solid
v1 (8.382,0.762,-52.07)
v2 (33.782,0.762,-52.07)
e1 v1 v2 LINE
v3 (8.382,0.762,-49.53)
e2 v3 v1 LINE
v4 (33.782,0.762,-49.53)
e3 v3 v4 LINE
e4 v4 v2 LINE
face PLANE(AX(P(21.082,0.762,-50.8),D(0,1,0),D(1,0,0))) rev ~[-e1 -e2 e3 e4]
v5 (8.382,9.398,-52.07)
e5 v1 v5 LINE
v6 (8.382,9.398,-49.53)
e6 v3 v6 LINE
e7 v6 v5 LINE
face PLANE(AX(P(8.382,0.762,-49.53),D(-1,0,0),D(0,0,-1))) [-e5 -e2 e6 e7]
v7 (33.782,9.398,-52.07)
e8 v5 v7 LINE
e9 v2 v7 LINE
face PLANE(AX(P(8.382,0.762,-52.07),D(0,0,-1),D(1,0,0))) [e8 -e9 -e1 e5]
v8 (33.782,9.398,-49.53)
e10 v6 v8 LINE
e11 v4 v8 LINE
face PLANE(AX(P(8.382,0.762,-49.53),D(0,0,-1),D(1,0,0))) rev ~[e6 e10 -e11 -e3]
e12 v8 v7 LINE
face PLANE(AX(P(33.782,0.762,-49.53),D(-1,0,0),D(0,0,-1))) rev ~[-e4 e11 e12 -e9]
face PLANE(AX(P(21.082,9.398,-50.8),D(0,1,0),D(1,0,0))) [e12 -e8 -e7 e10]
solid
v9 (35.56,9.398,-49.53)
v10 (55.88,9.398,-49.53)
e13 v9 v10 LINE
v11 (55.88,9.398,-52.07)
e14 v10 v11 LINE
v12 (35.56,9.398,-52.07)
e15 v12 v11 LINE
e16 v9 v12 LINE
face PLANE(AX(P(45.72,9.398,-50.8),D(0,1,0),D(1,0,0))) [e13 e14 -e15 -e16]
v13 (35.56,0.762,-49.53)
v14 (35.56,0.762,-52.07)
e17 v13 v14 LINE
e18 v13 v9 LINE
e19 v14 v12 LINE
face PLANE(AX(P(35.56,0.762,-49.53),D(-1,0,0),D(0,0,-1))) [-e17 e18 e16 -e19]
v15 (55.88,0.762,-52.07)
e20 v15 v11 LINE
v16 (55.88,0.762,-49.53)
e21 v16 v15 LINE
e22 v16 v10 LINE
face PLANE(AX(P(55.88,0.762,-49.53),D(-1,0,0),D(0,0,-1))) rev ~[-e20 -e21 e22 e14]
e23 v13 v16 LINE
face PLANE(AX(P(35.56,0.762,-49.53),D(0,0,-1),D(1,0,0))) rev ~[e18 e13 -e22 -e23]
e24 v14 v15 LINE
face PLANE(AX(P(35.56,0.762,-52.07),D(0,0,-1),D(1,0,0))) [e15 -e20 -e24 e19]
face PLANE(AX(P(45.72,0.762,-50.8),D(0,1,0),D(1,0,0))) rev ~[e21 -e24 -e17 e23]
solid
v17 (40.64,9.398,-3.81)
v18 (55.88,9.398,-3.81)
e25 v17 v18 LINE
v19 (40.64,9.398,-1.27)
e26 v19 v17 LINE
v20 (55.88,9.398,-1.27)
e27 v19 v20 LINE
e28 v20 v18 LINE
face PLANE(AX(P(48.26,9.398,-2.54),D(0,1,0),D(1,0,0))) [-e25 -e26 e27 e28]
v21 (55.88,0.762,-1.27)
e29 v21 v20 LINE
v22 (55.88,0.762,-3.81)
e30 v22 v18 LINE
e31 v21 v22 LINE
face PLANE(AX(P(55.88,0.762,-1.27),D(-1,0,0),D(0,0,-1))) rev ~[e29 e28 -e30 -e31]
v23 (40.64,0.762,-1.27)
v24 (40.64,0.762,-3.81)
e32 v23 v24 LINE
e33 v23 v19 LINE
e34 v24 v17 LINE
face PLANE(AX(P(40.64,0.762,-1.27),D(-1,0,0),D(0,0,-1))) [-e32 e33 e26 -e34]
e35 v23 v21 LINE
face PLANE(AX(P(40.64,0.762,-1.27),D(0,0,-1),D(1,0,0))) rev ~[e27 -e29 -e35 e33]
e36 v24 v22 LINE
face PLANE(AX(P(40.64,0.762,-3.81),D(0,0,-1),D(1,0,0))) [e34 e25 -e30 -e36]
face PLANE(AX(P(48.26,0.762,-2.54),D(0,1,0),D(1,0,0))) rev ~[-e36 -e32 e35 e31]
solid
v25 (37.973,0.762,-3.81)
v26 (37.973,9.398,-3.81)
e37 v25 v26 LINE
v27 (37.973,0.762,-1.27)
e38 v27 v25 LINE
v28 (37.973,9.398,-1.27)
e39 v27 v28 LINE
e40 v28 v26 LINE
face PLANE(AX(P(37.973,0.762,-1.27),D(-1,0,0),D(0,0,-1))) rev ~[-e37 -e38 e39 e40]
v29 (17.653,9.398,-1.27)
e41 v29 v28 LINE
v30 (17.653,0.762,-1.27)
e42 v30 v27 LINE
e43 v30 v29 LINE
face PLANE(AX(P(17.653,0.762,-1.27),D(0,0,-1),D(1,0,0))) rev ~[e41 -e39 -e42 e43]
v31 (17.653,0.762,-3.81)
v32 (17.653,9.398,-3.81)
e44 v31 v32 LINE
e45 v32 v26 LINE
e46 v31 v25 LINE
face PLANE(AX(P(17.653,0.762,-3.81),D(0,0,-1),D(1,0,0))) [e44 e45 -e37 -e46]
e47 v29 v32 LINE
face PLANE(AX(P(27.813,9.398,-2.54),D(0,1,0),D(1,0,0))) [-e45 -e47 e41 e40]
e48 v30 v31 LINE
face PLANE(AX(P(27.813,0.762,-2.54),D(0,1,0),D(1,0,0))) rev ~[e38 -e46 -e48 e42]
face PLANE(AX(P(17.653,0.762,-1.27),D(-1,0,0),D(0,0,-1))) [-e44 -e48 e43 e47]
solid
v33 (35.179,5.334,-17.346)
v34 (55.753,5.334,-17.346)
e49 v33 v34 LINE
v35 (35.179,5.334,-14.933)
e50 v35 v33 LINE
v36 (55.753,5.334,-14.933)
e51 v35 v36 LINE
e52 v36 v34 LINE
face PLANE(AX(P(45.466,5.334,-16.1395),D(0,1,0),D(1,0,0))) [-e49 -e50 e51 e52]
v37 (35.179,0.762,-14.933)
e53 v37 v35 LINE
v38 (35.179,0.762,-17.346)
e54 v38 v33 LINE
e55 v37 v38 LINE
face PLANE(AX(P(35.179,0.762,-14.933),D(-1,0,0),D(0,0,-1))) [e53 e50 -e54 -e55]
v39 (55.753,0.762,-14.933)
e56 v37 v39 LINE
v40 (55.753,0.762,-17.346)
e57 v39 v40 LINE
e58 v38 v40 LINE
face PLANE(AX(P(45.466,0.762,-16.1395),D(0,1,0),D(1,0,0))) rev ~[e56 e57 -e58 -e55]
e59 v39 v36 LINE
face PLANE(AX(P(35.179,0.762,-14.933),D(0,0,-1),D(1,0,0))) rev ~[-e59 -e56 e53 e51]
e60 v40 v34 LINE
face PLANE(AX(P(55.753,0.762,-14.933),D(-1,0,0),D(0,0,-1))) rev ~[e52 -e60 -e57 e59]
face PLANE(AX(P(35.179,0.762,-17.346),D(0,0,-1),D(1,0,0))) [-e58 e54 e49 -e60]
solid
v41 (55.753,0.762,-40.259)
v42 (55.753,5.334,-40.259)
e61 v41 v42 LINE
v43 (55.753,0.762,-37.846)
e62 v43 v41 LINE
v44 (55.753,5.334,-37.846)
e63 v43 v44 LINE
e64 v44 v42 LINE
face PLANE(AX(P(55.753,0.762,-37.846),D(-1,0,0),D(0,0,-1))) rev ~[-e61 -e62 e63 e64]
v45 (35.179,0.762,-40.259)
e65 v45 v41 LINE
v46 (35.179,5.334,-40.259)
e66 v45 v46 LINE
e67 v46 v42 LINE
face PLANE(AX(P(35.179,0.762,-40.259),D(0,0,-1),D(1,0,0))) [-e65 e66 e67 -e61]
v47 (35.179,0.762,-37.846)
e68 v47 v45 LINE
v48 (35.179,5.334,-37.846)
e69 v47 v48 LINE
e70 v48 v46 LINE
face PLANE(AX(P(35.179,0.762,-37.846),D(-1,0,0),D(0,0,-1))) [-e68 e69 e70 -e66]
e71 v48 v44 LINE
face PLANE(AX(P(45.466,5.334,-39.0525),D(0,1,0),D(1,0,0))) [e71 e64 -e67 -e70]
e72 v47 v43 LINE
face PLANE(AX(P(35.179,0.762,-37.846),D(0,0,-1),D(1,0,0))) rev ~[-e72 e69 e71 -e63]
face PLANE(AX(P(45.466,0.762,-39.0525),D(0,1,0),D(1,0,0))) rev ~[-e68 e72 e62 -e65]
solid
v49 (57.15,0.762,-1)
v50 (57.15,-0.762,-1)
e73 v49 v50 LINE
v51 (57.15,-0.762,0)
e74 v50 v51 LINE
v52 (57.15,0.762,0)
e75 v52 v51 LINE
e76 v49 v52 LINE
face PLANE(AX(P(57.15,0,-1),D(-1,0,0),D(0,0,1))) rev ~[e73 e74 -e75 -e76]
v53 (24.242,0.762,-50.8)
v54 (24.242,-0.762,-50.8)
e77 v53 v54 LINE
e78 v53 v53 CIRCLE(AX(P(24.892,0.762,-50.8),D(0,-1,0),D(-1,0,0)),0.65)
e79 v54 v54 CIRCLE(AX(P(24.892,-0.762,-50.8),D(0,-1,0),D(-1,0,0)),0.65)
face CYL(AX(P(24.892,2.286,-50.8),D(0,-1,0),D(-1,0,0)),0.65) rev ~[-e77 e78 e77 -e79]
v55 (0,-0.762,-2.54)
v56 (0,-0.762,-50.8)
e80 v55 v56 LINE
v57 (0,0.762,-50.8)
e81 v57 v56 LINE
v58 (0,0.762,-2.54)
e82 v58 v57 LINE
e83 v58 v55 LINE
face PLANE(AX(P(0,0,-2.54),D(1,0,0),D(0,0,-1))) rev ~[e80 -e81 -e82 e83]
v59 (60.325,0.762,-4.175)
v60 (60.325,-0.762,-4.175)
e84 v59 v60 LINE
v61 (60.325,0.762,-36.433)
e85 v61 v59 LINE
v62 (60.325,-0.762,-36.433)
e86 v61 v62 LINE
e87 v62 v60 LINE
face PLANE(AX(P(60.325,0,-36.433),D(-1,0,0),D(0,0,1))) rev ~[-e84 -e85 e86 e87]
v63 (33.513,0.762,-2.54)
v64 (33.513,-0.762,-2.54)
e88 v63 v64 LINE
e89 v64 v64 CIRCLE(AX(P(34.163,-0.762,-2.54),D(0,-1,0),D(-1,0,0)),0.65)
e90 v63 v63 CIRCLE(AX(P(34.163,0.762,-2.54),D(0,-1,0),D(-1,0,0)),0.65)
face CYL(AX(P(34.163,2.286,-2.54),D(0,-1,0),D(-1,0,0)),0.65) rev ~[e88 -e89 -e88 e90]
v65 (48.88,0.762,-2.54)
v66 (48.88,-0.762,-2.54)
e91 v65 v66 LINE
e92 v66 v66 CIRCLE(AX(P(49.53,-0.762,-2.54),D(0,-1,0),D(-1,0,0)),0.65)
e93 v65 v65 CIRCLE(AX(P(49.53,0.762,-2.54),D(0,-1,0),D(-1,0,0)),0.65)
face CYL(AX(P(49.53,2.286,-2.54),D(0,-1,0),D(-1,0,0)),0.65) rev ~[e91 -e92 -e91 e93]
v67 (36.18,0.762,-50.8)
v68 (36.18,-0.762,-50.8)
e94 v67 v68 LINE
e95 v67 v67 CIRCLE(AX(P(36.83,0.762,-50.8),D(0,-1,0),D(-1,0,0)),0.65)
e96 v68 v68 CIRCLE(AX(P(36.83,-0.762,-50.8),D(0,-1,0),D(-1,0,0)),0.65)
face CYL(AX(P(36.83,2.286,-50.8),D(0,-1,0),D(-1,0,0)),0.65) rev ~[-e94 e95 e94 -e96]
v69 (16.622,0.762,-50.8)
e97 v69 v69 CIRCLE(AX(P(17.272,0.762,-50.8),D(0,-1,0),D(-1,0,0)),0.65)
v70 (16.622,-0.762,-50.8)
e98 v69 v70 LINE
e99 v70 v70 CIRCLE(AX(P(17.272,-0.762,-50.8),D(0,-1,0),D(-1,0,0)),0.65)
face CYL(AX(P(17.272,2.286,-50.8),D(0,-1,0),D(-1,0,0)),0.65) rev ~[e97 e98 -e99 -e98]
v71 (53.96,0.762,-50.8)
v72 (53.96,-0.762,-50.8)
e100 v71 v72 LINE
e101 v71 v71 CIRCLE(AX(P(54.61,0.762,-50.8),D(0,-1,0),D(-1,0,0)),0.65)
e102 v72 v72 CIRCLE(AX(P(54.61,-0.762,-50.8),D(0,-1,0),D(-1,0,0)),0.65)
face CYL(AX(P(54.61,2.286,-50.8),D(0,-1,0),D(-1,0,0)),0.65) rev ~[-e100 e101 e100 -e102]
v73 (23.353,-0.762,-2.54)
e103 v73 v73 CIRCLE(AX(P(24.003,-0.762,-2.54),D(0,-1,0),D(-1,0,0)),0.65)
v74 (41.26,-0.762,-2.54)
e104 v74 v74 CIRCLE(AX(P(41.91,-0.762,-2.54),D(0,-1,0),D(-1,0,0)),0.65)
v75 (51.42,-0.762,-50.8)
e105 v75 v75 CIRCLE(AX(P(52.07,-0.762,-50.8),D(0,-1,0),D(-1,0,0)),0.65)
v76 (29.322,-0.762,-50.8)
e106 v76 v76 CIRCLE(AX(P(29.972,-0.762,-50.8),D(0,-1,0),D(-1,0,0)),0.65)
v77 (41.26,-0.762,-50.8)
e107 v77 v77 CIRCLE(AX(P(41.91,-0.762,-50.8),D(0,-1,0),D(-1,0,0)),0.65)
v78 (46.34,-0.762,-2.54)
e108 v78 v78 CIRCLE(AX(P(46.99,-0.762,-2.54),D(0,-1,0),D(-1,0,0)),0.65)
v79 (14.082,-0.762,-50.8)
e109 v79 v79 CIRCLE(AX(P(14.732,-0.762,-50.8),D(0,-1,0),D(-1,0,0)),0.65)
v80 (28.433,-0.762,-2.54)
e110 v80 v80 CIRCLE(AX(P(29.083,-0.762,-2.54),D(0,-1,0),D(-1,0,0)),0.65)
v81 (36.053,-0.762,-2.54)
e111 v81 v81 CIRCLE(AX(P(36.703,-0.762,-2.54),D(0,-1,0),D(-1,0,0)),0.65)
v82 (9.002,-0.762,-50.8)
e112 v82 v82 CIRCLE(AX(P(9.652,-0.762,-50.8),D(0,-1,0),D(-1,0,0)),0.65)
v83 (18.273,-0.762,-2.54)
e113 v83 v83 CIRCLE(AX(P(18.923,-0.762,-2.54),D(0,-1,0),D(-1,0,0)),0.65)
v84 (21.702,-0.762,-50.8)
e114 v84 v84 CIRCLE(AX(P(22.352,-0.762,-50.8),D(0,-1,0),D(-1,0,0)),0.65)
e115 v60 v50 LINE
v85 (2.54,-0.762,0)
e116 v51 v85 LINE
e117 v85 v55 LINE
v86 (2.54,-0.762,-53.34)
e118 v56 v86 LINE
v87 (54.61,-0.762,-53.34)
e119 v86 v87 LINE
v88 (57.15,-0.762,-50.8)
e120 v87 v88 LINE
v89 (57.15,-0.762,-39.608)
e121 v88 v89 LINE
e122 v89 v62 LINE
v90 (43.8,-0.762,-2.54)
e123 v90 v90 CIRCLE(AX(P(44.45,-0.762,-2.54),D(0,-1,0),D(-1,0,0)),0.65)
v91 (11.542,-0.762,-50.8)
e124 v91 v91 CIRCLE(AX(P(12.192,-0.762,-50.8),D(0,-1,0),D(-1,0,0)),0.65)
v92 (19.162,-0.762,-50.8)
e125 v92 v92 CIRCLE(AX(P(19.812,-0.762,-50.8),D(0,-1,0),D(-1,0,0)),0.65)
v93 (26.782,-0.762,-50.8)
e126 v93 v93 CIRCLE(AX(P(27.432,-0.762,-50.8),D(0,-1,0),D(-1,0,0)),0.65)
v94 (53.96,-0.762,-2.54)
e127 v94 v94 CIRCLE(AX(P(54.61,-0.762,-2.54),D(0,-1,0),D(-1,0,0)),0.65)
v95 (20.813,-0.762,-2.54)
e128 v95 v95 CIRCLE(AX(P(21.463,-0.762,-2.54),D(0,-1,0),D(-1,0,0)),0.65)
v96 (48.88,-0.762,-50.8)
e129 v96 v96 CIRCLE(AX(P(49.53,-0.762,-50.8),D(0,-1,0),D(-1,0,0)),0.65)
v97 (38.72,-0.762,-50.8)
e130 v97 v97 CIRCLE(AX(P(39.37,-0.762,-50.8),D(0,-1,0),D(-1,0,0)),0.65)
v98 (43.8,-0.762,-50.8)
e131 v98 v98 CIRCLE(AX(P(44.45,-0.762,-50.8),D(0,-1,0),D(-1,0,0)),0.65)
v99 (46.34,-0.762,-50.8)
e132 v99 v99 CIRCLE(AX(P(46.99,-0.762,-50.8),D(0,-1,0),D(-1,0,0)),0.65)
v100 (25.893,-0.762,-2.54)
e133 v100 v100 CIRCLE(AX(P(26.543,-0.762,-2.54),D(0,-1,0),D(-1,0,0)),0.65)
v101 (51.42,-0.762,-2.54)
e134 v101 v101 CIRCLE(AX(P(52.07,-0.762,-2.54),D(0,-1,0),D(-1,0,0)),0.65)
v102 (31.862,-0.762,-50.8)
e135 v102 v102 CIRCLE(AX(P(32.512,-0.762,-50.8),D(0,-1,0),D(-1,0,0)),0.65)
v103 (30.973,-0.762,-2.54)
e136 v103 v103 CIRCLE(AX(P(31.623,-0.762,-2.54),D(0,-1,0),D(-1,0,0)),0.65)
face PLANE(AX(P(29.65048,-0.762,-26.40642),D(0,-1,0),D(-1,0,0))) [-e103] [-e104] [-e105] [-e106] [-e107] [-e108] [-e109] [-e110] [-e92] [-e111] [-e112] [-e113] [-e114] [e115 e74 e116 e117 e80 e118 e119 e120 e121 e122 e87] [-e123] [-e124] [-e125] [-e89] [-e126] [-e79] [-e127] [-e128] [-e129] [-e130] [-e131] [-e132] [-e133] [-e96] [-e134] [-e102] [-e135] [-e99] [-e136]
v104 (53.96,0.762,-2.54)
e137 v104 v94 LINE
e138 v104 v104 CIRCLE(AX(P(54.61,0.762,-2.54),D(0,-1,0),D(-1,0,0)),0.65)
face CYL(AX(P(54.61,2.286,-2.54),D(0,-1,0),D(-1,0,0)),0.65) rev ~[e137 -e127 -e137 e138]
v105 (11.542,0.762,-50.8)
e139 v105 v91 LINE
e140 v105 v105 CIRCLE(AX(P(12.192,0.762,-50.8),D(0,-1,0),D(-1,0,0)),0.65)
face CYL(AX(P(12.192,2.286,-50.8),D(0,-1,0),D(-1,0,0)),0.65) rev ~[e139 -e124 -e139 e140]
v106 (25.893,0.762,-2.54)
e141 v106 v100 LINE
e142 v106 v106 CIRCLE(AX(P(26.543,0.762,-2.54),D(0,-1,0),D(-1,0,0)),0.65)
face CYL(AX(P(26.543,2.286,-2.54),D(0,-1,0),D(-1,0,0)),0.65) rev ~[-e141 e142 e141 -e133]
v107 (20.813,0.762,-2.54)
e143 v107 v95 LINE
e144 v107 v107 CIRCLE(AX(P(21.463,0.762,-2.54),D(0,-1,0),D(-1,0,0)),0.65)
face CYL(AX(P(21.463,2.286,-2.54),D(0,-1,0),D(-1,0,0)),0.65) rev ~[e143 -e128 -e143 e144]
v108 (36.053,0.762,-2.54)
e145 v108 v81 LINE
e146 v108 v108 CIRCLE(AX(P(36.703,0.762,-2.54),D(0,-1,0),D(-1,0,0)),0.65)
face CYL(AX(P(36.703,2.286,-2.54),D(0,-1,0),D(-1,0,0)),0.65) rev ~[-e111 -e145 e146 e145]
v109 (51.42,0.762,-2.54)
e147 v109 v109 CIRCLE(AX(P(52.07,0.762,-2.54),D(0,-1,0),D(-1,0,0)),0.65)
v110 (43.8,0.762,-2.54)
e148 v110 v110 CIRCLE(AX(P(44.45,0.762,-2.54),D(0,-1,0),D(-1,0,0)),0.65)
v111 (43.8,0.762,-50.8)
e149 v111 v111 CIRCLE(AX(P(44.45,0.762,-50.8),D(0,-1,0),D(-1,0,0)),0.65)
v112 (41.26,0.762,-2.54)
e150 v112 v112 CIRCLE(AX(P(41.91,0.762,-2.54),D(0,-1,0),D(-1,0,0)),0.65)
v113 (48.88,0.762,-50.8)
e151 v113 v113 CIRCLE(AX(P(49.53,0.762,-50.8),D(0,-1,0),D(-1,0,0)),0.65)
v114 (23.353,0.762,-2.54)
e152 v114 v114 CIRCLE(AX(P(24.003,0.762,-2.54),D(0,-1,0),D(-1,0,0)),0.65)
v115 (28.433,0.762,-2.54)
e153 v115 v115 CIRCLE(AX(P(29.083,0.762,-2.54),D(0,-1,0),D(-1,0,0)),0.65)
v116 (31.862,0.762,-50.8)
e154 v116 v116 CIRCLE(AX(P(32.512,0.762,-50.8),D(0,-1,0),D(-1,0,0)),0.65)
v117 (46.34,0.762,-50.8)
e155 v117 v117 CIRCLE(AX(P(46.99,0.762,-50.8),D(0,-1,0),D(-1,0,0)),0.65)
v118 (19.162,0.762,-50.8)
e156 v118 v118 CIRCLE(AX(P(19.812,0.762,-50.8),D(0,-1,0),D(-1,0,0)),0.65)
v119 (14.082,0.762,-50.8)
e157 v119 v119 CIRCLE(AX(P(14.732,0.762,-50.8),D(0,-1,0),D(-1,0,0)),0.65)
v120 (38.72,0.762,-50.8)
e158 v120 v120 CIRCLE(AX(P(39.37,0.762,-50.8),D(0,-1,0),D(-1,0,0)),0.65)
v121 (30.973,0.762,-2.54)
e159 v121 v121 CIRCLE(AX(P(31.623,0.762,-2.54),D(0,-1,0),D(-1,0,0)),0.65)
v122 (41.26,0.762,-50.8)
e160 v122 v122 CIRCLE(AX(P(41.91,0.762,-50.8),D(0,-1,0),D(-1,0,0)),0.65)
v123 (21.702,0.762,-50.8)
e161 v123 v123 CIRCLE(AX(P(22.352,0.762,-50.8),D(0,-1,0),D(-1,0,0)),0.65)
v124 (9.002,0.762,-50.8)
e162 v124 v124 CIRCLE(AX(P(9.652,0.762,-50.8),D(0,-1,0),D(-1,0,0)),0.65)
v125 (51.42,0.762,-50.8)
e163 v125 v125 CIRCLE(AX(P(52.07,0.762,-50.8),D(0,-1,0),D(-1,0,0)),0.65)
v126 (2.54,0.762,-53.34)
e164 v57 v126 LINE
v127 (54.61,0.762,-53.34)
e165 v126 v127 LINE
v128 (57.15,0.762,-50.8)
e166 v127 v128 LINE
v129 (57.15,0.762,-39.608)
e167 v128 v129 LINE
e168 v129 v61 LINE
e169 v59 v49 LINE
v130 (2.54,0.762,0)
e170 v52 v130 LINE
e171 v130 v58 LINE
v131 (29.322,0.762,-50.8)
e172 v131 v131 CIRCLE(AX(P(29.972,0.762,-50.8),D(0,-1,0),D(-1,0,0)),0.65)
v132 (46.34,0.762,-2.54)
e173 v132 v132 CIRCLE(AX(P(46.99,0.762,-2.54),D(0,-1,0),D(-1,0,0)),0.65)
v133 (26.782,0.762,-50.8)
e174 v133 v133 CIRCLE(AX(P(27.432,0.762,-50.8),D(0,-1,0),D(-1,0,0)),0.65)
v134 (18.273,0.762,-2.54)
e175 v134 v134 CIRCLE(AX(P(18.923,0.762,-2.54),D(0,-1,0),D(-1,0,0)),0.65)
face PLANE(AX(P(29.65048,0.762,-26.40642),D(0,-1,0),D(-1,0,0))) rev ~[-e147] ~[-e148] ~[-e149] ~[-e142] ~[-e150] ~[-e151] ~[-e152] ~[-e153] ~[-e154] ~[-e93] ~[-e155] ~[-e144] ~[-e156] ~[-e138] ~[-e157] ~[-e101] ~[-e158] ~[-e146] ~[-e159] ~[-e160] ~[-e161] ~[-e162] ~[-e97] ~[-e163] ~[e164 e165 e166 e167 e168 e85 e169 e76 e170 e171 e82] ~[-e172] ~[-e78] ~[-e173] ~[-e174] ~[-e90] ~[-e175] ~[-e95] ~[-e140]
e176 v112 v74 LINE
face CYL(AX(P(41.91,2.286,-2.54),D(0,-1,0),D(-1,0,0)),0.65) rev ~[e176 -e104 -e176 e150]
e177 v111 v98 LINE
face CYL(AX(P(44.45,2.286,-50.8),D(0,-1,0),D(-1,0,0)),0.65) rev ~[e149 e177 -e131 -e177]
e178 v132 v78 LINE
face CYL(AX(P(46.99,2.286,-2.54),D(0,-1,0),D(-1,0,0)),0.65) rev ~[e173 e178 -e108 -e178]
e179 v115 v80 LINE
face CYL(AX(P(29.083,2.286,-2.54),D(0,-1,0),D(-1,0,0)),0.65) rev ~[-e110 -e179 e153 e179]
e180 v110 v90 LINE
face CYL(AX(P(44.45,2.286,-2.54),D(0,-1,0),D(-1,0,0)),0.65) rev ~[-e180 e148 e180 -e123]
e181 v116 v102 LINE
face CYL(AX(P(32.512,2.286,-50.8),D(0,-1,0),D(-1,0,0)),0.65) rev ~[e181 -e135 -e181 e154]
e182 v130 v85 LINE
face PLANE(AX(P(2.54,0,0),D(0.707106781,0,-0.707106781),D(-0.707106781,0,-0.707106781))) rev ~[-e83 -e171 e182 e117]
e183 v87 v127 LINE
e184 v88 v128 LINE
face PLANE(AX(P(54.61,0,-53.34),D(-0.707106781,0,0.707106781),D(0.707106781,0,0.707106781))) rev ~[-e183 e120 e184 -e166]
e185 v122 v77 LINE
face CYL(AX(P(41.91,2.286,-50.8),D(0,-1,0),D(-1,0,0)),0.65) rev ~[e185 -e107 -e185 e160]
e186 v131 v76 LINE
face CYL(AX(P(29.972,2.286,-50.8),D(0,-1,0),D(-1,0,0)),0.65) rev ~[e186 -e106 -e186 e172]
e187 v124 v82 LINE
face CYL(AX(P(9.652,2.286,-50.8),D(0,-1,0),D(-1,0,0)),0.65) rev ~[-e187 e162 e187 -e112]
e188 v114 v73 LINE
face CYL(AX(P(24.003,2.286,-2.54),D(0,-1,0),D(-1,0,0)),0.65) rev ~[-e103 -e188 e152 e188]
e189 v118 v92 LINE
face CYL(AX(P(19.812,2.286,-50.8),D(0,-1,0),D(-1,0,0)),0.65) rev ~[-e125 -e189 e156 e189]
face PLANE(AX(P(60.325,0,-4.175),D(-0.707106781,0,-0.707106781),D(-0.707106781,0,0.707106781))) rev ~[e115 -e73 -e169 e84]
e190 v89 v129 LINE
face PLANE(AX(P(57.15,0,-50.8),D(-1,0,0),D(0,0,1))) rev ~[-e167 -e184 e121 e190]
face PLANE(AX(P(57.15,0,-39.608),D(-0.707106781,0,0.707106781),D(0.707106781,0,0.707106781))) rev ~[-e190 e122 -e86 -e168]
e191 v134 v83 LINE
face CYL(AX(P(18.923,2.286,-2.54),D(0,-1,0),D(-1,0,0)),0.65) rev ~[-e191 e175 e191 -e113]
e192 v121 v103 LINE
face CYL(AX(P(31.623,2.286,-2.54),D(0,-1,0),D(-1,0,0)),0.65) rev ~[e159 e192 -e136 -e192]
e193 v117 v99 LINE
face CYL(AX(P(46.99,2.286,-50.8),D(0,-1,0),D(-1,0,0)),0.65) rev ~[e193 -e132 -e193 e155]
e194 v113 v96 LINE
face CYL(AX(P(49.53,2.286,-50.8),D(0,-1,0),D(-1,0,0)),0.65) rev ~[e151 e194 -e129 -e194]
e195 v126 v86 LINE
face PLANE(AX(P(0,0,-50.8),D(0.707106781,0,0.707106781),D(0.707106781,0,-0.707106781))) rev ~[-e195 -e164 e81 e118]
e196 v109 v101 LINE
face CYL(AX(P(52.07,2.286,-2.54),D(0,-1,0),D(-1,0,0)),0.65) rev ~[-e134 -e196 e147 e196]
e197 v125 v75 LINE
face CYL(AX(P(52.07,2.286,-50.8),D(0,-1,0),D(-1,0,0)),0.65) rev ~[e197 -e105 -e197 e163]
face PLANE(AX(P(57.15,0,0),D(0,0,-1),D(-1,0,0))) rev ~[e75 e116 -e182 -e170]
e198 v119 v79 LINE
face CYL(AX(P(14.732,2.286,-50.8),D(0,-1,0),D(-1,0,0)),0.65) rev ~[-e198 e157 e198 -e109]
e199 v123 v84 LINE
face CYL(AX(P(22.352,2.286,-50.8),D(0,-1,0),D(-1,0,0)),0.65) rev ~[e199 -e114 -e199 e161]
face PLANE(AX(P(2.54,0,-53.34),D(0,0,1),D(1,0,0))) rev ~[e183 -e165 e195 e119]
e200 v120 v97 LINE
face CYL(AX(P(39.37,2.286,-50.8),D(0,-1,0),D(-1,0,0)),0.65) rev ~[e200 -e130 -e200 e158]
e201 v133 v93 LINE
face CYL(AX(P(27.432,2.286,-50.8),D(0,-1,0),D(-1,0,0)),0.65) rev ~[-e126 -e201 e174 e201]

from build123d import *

# Parameters (mm, degrees)
BOSS_EXTRUDE1_DEPTH            = 0.762
F_1_3_1_3_DIAMETER_HOLE1_D     = 1.3
F_1_3_1_3_DIAMETER_HOLE1_DEPTH = 1.524
SKETCH6_W                      = 25.4
SKETCH6_H                      = 2.54
BOSS_EXTRUDE2_DEPTH            = 8.636
SKETCH6_W_2                    = 20.32
BOSS_EXTRUDE2_2_DEPTH          = 8.636
BOSS_EXTRUDE2_3_DEPTH          = 8.636
SKETCH6_W_3                    = 15.24
BOSS_EXTRUDE2_4_DEPTH          = 8.636
SKETCH7_W                      = 20.574
SKETCH7_H                      = 2.413
BOSS_EXTRUDE3_DEPTH            = 4.572
BOSS_EXTRUDE3_2_DEPTH          = 4.572


with BuildPart() as part:
    # Sketch1 → Boss-Extrude1 (new body, symmetric)
    with BuildSketch(Plane(origin=(0, 0, 0), x_dir=(1, 0, 0), z_dir=(0, 1, 0))):
        Polygon((57.15, 39.608), (60.325, 36.433), (60.325, 4.175), (57.15, 1), (57.15, 0), (2.54, 0), (0, 2.54), (0, 50.8), (2.54, 53.34), (54.61, 53.34), (57.15, 50.8), align=None)
    extrude(amount=BOSS_EXTRUDE1_DEPTH, both=True)

    # Ø1.3 (1.3) Diameter Hole1
    with Locations(Plane(origin=(0, 0.762, 0), x_dir=(1, 0, 0), z_dir=(0, 1, 0))):
        with Locations((18.923, 2.54), (9.652, 50.8), (21.463, 2.54), (24.003, 2.54), (26.543, 2.54), (29.083, 2.54), (31.623, 2.54), (34.163, 2.54), (36.703, 2.54), (12.192, 50.8), (14.732, 50.8), (17.272, 50.8), (19.812, 50.8), (22.352, 50.8), (24.892, 50.8), (27.432, 50.8), (29.972, 50.8), (32.512, 50.8), (41.91, 2.54), (36.83, 50.8), (44.45, 2.54), (46.99, 2.54), (49.53, 2.54), (52.07, 2.54), (54.61, 2.54), (39.37, 50.8), (41.91, 50.8), (44.45, 50.8), (46.99, 50.8), (49.53, 50.8), (52.07, 50.8), (54.61, 50.8), (91.567, 2.54), (89.027, 2.54), (86.487, 2.54), (83.947, 2.54), (81.407, 2.54), (78.867, 2.54), (76.327, 2.54)):
            Hole(F_1_3_1_3_DIAMETER_HOLE1_D / 2, depth=F_1_3_1_3_DIAMETER_HOLE1_DEPTH)


with BuildPart() as body_2:
    # Sketch6 → Boss-Extrude2 (new body)
    with BuildSketch(Plane(origin=(0, 0.762, 0), x_dir=(1, 0, 0), z_dir=(0, 1, 0))):
        with Locations((21.082, 50.8)):
            Rectangle(SKETCH6_W, SKETCH6_H)
    extrude(amount=BOSS_EXTRUDE2_DEPTH)


with BuildPart() as body_3:
    # Sketch6 → Boss-Extrude2 2 (new body)
    with BuildSketch(Plane(origin=(0, 0.762, 0), x_dir=(1, 0, 0), z_dir=(0, 1, 0))):
        with Locations((45.72, 50.8)):
            Rectangle(SKETCH6_W_2, SKETCH6_H)
    extrude(amount=BOSS_EXTRUDE2_2_DEPTH)


with BuildPart() as body_4:
    # Sketch6 → Boss-Extrude2 3 (new body)
    with BuildSketch(Plane(origin=(0, 0.762, 0), x_dir=(1, 0, 0), z_dir=(0, 1, 0))):
        with Locations((27.813, 2.54)):
            Rectangle(SKETCH6_W_2, SKETCH6_H)
    extrude(amount=BOSS_EXTRUDE2_3_DEPTH)


with BuildPart() as body_5:
    # Sketch6 → Boss-Extrude2 4 (new body)
    with BuildSketch(Plane(origin=(0, 0.762, 0), x_dir=(1, 0, 0), z_dir=(0, 1, 0))):
        with Locations((48.26, 2.54)):
            Rectangle(SKETCH6_W_3, SKETCH6_H)
    extrude(amount=BOSS_EXTRUDE2_4_DEPTH)


with BuildPart() as body_6:
    # Sketch7 → Boss-Extrude3 (new body)
    with BuildSketch(Plane(origin=(0, 0.762, 0), x_dir=(1, 0, 0), z_dir=(0, 1, 0))):
        with Locations((45.466, 39.0525)):
            Rectangle(SKETCH7_W, SKETCH7_H)
    extrude(amount=BOSS_EXTRUDE3_DEPTH)


with BuildPart() as body_7:
    # Sketch7 → Boss-Extrude3 2 (new body)
    with BuildSketch(Plane(origin=(0, 0.762, 0), x_dir=(1, 0, 0), z_dir=(0, 1, 0))):
        with Locations((45.466, 16.1395)):
            Rectangle(SKETCH7_W, SKETCH7_H)
    extrude(amount=BOSS_EXTRUDE3_2_DEPTH)


solid = Compound([part.part, body_2.part, body_3.part, body_4.part, body_5.part, body_6.part, body_7.part])
